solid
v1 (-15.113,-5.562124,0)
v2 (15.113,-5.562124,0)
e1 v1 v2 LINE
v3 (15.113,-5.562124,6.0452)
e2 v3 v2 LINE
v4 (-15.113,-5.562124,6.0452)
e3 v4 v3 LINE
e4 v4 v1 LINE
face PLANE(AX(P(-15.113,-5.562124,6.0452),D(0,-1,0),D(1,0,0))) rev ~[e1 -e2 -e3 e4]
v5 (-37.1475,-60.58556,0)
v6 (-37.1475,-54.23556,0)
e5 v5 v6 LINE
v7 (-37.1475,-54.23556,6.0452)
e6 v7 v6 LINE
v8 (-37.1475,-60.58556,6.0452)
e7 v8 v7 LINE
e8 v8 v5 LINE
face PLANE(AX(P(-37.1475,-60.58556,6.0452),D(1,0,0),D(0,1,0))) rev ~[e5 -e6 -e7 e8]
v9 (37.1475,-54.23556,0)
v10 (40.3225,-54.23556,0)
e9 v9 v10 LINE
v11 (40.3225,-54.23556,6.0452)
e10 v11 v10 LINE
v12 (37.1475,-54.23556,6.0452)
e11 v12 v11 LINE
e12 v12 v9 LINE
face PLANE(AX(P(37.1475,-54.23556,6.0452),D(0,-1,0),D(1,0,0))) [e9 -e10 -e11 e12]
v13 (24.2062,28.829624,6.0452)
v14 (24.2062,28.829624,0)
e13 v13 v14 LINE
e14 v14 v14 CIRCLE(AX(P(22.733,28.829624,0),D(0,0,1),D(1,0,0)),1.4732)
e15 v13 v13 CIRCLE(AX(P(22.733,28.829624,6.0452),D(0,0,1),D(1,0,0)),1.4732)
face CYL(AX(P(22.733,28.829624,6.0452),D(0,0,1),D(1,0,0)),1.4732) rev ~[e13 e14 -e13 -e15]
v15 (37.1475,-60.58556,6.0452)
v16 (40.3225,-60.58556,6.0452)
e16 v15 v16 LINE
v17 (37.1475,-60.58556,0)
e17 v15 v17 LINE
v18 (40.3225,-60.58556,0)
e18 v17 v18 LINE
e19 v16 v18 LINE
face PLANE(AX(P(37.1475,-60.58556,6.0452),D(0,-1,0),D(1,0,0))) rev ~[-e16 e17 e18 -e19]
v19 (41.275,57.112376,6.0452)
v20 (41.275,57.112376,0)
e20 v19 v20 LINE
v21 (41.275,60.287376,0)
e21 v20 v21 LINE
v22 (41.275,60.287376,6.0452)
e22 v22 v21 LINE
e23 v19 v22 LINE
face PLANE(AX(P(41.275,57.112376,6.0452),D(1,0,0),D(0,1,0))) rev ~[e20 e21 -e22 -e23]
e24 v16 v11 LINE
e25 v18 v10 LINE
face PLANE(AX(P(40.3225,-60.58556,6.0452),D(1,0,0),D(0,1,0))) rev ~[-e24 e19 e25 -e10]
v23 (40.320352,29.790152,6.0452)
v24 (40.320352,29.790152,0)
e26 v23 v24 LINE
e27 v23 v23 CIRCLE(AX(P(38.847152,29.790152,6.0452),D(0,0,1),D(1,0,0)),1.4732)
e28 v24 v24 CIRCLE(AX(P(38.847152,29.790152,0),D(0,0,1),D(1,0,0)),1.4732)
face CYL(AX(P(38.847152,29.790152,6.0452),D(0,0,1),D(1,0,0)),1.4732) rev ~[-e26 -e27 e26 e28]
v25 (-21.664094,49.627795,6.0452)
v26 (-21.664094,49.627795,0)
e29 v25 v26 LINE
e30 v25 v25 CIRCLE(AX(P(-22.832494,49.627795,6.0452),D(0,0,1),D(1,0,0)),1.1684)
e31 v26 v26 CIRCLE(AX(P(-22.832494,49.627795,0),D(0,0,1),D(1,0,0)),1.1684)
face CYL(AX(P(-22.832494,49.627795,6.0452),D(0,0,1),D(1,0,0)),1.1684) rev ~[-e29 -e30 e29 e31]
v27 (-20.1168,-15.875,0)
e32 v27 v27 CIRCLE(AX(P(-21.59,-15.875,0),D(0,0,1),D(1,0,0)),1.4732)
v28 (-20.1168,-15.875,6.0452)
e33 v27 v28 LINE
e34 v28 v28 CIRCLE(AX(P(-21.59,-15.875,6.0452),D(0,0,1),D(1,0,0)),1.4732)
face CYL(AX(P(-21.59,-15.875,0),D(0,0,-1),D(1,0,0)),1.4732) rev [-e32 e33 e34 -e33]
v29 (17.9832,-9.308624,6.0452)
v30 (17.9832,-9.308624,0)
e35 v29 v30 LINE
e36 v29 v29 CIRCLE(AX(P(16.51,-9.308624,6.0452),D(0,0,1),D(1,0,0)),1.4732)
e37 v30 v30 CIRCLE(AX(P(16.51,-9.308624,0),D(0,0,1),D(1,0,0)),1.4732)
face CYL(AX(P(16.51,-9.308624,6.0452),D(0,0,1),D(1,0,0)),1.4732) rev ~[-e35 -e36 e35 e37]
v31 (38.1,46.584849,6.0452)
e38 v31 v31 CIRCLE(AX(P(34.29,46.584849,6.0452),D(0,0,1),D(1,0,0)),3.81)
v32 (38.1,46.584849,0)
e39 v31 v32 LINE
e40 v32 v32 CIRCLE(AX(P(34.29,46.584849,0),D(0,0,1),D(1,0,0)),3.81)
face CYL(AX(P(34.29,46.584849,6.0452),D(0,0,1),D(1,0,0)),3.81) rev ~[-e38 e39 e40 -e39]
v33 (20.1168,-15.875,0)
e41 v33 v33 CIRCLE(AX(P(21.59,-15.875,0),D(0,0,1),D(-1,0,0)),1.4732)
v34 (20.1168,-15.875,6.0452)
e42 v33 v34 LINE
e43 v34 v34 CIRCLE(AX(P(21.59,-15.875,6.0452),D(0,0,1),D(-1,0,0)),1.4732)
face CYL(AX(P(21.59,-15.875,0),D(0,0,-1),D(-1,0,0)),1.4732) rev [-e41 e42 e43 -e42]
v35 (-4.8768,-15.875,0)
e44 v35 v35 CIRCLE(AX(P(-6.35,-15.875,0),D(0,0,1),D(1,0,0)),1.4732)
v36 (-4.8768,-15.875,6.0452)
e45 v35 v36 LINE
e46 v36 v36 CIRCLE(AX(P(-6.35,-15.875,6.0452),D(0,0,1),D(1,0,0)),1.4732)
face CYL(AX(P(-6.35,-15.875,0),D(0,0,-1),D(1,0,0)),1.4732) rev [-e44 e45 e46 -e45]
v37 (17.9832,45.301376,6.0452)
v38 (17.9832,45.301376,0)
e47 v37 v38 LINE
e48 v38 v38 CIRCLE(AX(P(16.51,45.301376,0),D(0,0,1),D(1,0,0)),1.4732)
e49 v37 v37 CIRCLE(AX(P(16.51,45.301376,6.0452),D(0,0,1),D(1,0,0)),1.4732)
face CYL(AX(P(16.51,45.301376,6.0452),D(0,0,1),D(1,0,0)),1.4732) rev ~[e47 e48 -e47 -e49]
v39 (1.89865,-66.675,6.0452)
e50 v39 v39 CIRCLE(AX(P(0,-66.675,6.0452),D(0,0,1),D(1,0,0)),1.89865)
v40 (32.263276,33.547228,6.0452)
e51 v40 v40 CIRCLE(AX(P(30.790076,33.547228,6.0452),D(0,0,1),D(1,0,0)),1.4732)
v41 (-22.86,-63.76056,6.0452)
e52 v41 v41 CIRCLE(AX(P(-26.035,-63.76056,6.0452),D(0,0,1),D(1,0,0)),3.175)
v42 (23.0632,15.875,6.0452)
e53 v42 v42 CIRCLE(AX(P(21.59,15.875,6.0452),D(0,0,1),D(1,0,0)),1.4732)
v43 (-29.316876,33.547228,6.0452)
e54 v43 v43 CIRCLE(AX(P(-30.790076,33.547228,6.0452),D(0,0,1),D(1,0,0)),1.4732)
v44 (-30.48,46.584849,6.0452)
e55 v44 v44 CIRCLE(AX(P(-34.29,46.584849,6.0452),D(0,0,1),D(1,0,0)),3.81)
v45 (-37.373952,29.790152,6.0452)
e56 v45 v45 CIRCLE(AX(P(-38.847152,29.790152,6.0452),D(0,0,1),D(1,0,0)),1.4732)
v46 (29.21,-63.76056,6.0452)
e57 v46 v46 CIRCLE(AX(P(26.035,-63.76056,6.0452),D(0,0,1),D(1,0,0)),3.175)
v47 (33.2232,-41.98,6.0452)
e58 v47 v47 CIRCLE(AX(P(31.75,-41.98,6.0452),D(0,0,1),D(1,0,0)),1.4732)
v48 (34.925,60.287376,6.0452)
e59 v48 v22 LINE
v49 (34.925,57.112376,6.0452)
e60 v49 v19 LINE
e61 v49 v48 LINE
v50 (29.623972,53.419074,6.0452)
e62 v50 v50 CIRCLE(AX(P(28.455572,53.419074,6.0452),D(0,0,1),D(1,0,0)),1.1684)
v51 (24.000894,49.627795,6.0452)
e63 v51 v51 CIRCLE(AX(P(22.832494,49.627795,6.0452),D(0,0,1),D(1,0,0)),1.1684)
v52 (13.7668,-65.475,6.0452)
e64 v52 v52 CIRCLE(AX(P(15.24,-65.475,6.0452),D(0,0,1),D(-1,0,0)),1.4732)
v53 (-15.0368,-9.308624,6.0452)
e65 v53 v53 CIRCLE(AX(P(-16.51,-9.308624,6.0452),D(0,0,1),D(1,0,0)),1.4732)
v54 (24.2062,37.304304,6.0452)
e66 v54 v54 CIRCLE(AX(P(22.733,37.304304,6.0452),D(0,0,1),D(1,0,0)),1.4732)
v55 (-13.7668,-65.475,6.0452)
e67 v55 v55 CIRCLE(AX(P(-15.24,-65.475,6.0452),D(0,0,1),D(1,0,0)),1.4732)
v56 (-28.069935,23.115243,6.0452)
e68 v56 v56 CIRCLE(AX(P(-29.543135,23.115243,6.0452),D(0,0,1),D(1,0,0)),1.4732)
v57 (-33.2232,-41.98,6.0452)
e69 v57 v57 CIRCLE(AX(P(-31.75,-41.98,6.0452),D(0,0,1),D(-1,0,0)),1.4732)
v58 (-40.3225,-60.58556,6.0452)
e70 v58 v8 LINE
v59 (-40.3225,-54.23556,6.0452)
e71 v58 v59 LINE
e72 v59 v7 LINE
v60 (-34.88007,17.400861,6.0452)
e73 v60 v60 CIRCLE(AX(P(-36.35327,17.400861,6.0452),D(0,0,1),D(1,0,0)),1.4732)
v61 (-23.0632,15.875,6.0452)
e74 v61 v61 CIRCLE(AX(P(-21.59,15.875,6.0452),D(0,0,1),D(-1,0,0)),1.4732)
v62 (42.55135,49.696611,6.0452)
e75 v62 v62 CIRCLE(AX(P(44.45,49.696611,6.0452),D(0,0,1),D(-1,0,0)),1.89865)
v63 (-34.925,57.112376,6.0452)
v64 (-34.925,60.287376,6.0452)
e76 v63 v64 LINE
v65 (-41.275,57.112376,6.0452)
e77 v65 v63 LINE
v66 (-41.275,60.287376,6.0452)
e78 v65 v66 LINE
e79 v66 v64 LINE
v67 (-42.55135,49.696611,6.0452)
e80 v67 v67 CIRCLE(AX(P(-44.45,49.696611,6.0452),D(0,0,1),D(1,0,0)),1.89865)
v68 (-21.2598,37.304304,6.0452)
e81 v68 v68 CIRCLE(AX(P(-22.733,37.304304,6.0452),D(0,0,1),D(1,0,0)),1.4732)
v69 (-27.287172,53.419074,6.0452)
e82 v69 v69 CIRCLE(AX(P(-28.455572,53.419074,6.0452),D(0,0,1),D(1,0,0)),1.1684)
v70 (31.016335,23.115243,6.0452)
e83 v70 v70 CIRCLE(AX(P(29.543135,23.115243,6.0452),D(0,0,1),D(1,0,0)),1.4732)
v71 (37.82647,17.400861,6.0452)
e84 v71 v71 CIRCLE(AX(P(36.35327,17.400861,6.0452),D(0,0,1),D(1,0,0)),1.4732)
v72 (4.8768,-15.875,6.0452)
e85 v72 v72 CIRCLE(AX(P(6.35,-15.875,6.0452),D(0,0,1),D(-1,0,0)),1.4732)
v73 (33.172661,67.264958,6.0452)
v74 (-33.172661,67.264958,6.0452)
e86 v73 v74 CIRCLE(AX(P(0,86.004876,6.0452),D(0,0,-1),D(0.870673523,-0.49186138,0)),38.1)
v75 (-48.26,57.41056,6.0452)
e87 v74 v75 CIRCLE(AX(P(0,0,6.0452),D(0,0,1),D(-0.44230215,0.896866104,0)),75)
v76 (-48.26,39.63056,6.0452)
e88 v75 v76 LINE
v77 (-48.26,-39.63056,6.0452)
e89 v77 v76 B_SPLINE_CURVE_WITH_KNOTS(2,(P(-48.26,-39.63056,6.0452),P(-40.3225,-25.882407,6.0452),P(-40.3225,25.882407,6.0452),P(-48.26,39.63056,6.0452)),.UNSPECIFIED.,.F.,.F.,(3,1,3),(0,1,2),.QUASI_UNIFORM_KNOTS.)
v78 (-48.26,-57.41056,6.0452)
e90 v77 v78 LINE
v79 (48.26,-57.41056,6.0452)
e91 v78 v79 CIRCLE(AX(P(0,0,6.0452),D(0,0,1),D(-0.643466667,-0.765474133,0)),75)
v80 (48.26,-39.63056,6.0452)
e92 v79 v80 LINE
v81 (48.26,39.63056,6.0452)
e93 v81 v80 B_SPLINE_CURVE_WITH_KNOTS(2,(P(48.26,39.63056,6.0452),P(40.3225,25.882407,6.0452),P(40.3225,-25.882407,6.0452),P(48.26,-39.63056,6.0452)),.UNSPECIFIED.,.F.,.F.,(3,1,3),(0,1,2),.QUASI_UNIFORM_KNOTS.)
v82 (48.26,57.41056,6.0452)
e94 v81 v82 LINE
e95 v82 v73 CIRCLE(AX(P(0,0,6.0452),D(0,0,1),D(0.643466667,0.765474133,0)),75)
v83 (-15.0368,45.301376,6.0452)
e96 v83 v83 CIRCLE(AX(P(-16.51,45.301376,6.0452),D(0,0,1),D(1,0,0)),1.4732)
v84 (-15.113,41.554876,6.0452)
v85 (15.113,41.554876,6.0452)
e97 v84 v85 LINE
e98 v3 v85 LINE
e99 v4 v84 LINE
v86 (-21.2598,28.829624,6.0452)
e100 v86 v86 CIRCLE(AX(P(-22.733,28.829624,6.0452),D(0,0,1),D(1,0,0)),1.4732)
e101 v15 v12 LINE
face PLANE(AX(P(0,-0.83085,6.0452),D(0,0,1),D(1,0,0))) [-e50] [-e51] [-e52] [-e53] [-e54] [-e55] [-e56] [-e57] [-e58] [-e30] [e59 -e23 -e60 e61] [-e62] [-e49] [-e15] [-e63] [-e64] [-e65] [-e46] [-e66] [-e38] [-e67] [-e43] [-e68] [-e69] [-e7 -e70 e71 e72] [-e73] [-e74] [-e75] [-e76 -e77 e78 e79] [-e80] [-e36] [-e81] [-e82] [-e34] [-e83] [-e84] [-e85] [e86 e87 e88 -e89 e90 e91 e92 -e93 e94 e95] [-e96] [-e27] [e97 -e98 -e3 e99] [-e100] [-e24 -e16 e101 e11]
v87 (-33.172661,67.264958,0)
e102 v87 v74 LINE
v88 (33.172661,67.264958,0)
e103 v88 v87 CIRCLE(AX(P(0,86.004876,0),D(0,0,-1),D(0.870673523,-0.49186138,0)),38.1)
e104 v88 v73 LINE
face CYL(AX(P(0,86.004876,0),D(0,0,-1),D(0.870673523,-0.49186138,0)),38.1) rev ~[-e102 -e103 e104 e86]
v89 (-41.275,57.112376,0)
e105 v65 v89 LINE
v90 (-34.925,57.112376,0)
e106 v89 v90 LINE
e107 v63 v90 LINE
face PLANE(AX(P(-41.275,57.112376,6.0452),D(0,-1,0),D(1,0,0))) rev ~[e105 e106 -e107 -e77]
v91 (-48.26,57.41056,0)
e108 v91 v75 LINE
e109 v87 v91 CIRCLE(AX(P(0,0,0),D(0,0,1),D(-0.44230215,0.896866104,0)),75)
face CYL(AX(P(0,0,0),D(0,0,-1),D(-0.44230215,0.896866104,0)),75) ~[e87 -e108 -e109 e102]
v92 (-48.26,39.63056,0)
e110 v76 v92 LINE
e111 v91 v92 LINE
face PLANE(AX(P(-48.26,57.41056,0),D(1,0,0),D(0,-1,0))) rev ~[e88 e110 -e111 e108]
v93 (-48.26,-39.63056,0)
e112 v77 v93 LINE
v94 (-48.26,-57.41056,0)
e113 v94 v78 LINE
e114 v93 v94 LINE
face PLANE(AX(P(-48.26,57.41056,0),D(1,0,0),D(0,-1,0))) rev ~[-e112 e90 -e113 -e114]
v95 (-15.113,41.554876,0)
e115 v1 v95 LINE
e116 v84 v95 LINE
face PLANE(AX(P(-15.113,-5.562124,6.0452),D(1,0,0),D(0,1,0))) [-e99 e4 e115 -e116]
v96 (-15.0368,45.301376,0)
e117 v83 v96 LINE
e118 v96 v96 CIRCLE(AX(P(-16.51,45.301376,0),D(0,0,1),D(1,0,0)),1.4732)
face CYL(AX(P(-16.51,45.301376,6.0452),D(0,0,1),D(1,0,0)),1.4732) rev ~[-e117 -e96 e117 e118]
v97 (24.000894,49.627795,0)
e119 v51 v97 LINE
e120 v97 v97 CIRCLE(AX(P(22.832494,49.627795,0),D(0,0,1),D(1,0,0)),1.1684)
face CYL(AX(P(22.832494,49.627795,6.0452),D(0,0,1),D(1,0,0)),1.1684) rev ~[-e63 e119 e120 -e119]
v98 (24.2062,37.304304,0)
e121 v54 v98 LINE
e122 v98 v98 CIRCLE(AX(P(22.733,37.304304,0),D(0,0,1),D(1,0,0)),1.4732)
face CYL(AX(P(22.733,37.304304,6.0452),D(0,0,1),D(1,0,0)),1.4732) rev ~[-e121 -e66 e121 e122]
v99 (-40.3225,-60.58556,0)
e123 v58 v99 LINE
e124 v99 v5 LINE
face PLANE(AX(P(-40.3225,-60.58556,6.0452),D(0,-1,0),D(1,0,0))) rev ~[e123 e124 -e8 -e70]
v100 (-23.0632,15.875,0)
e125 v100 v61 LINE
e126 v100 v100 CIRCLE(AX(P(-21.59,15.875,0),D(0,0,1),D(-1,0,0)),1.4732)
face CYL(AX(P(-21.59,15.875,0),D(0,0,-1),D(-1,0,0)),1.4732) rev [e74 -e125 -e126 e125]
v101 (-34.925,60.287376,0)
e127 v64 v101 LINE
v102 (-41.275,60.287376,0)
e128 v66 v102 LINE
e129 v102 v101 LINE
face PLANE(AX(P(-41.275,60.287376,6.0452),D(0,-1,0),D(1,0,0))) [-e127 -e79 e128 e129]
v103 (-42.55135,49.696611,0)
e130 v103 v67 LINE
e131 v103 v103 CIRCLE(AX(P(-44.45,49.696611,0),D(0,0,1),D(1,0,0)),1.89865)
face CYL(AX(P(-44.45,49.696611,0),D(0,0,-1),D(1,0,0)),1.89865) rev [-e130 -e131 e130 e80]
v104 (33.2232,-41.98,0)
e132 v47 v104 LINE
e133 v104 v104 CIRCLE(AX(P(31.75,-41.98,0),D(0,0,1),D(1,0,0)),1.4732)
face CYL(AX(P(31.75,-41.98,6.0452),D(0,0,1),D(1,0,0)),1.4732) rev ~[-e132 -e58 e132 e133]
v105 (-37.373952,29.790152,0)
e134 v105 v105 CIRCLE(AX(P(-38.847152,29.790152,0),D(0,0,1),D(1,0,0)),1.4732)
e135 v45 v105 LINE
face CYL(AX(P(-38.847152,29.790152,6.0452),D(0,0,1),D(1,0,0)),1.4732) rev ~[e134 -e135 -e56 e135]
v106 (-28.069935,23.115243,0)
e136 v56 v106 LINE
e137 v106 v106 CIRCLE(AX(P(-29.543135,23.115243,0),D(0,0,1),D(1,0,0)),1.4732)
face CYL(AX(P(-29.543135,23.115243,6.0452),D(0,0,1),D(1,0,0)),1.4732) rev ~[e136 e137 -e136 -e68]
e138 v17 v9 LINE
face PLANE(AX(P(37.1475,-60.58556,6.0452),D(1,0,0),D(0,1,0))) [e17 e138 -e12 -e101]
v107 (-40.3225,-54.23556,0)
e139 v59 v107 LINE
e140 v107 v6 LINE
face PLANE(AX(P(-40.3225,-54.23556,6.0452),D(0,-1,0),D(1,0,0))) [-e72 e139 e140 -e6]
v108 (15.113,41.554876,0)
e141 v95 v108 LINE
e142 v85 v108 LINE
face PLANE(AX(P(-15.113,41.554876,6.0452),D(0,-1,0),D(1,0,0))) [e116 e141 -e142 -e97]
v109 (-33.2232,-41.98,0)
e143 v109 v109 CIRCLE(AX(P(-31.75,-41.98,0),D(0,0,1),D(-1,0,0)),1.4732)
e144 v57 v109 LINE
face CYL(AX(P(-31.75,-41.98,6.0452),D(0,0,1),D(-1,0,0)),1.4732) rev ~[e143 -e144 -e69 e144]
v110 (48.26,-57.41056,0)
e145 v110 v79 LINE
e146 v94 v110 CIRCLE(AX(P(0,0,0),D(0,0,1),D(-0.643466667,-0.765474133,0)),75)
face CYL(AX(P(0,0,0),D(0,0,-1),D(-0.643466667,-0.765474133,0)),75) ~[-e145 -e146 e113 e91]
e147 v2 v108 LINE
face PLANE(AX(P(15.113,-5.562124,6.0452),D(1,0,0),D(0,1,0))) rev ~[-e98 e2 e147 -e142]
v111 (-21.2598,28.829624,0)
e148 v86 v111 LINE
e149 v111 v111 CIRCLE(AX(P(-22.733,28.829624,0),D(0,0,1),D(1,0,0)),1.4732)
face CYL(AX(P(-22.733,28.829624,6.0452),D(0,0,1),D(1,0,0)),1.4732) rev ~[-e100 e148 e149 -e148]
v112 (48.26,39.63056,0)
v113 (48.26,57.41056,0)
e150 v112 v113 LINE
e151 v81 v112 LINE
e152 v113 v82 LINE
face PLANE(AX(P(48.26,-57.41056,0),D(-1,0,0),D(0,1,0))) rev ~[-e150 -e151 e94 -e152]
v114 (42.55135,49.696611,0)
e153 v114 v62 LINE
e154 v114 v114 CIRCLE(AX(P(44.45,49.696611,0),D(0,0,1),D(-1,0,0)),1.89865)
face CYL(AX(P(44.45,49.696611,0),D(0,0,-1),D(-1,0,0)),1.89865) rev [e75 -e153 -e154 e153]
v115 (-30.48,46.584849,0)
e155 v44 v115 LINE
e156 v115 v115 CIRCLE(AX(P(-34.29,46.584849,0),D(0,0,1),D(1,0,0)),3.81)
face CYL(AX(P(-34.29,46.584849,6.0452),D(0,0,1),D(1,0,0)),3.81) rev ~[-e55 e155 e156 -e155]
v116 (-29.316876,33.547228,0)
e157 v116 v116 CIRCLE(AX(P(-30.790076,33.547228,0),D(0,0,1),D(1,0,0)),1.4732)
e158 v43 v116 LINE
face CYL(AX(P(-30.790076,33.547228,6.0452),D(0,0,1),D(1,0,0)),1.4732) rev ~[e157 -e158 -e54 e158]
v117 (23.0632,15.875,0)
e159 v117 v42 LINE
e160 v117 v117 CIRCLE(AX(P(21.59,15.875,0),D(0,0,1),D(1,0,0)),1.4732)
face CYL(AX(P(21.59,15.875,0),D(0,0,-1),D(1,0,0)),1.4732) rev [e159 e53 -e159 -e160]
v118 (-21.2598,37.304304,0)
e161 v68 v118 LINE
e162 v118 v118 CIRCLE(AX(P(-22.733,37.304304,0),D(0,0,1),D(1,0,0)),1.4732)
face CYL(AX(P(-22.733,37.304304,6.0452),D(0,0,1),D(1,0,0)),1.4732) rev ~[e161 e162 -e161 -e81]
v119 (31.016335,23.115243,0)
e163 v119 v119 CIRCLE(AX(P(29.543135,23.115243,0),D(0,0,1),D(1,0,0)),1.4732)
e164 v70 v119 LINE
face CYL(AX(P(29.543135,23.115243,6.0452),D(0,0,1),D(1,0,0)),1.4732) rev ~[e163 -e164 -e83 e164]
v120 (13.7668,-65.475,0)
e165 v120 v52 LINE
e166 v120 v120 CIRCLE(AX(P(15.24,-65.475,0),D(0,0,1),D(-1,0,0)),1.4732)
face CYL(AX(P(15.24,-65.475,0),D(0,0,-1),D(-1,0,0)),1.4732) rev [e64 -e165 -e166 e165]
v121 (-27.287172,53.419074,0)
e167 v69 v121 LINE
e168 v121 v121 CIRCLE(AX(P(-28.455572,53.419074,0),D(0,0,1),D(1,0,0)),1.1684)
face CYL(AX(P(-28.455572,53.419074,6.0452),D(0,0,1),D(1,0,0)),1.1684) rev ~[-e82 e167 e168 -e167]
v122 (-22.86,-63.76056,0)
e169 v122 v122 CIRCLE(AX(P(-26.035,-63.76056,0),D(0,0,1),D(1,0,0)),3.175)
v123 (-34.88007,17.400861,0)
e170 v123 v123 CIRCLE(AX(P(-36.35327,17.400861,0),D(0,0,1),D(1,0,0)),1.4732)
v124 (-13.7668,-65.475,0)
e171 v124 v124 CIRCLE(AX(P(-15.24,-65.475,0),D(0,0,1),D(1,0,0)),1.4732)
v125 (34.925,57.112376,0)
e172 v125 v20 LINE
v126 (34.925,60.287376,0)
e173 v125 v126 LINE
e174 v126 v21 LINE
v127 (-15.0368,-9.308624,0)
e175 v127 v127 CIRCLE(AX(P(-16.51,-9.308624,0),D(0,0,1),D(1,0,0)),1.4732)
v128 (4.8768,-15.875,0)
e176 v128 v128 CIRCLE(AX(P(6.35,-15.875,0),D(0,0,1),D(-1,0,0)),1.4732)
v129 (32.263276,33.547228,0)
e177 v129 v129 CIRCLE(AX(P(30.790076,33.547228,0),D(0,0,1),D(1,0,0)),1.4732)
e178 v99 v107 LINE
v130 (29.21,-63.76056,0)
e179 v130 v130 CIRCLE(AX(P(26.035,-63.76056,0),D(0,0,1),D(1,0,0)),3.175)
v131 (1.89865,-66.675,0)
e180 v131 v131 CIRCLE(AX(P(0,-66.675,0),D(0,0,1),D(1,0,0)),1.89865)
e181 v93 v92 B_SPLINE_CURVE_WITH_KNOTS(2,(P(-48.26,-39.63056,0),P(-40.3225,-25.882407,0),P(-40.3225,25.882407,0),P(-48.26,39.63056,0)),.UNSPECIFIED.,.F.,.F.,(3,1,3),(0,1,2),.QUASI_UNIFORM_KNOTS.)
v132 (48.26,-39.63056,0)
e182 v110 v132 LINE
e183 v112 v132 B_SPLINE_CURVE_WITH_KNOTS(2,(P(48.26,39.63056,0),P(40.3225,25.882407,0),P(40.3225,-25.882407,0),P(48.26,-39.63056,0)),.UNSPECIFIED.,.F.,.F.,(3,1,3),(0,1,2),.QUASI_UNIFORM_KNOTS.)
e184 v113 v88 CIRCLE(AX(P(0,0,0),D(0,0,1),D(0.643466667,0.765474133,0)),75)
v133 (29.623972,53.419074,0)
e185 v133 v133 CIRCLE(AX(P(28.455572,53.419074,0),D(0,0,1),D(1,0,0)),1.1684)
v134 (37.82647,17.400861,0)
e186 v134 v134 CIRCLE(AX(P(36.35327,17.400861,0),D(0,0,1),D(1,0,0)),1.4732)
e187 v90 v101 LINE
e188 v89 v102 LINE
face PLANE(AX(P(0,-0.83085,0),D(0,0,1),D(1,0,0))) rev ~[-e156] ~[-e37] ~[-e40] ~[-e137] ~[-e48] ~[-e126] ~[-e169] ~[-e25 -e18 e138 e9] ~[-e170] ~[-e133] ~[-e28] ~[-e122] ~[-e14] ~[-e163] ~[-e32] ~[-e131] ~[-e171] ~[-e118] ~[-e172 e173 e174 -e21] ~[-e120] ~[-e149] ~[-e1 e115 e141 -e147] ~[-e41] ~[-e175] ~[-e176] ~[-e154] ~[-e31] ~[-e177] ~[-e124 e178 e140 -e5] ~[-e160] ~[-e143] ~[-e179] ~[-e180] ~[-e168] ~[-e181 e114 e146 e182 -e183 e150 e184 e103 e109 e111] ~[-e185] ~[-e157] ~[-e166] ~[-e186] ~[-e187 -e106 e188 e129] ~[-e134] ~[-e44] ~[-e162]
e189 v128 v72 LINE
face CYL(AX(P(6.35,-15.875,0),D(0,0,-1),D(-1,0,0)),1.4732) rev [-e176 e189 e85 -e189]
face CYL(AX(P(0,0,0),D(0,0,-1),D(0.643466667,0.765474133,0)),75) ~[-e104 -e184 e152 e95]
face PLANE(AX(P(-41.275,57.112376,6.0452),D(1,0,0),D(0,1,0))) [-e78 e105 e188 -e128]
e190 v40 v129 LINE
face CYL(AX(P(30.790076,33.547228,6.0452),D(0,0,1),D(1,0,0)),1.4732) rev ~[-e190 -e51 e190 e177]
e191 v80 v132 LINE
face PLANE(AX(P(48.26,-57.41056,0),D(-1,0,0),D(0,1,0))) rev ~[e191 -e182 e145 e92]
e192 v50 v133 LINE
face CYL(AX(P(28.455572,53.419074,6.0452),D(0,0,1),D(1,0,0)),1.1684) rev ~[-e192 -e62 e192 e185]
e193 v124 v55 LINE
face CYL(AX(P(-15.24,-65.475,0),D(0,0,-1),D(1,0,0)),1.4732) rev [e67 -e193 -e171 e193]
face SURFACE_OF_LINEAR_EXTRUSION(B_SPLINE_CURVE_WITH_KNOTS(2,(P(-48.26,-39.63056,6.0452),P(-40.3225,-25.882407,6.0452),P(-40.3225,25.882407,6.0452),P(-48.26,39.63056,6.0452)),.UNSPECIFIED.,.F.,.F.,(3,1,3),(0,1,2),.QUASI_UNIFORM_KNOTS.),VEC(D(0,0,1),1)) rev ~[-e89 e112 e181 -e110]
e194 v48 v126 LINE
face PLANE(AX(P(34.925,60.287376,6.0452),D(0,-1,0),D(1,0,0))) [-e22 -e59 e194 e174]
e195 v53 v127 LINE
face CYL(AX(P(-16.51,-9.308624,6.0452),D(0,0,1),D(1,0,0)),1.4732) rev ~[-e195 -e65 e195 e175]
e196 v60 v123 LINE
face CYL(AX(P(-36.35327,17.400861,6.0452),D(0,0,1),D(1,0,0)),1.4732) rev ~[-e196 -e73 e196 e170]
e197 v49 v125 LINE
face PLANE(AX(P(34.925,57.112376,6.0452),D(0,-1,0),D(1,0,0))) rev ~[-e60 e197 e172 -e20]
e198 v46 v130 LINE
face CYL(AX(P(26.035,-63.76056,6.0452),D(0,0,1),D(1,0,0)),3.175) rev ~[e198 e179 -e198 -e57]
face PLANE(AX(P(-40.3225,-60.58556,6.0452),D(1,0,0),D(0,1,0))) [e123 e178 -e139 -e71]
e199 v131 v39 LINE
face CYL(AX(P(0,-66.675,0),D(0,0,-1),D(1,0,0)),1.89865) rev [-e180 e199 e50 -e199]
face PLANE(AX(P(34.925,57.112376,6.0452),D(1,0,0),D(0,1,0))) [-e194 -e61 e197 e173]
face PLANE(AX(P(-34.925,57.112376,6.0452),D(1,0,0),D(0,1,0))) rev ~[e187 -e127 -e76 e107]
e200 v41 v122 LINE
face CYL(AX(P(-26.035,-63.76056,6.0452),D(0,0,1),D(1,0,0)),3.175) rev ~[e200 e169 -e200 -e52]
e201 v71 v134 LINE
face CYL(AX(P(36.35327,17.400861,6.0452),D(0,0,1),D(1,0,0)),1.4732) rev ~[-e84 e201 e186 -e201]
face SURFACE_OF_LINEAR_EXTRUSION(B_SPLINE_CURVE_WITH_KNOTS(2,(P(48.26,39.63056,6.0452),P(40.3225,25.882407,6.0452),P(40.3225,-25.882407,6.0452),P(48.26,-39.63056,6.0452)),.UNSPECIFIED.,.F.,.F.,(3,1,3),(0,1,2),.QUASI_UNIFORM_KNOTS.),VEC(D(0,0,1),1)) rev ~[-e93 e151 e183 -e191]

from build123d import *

# Parameters (mm, degrees)
SKETCH1_R           = 1.89865
SKETCH1_R_2         = 1.4732
BOSS_EXTRUDE3_DEPTH = 6.0452
SKETCH7_R           = 1.4732
CUT_EXTRUDE2_DEPTH  = 90.389999681
SKETCH9_R           = 1.4732
SKETCH9_W           = 30.226
SKETCH9_H           = 47.117
CUT_EXTRUDE3_DEPTH  = 14.732
SKETCH10_R          = 3.175
SKETCH10_R_2        = 3.81
SKETCH10_W          = 6.35
SKETCH10_H          = 3.175
SKETCH10_W_2        = 3.175
SKETCH10_H_2        = 6.35
CUT_EXTRUDE4_DEPTH  = 6.0452
SKETCH12_R          = 1.4732
CUT_EXTRUDE5_DEPTH  = 6.0452
SKETCH13_R          = 1.1684
CUT_EXTRUDE6_DEPTH  = 6.0452
CUT_EXTRUDE7_DEPTH  = 6.0452


with BuildPart() as part:
    # Sketch1 → Boss-Extrude3 (new body)
    with BuildSketch(Plane.XY):
        with BuildLine():
            Line((-48.26, 57.410560004), (-48.26, -57.410560004))
            ThreePointArc((-48.26, -57.410560004), (0, -75), (48.26, -57.410560004))
            Line((48.26, -57.410560004), (48.26, 57.410560004))
            ThreePointArc((48.26, 57.410560004), (41.013374249, 62.792540423), (33.172661219, 67.264957799))
            ThreePointArc((33.172661219, 67.264957799), (0, 47.904876359), (-33.172661219, 67.264957799))
            ThreePointArc((-33.172661219, 67.264957799), (-41.013374249, 62.792540423), (-48.26, 57.410560004))
        make_face()
        with Locations((0, -66.675)):
            Circle(SKETCH1_R, mode=Mode.SUBTRACT)
        with Locations((-44.45, 49.6966108)):
            Circle(SKETCH1_R, mode=Mode.SUBTRACT)
        with Locations(Location((44.45, 49.6966108, 0), (0, 0, 180))):
            Circle(SKETCH1_R, mode=Mode.SUBTRACT)
        with Locations((-21.59, -15.875)):
            Circle(SKETCH1_R_2, mode=Mode.SUBTRACT)
        with Locations((-6.35, -15.875)):
            Circle(SKETCH1_R_2, mode=Mode.SUBTRACT)
        with Locations(Location((6.35, -15.875, 0), (0, 0, 180))):
            Circle(SKETCH1_R_2, mode=Mode.SUBTRACT)
        with Locations((-15.24, -65.475)):
            Circle(SKETCH1_R_2, mode=Mode.SUBTRACT)
        with Locations(Location((15.24, -65.475, 0), (0, 0, 180))):
            Circle(SKETCH1_R_2, mode=Mode.SUBTRACT)
        with Locations(Location((21.59, -15.875, 0), (0, 0, 180))):
            Circle(SKETCH1_R_2, mode=Mode.SUBTRACT)
        with Locations((6.35, 15.875)):
            Circle(SKETCH1_R_2, mode=Mode.SUBTRACT)
        with Locations(Location((-6.35, 15.875, 0), (0, 0, 180))):
            Circle(SKETCH1_R_2, mode=Mode.SUBTRACT)
        with Locations((21.59, 15.875)):
            Circle(SKETCH1_R_2, mode=Mode.SUBTRACT)
        with Locations(Location((-21.59, 15.875, 0), (0, 0, 180))):
            Circle(SKETCH1_R_2, mode=Mode.SUBTRACT)
    extrude(amount=BOSS_EXTRUDE3_DEPTH)

    # Sketch7 → Cut-Extrude2 (cut, through all)
    with BuildSketch(Plane.XY.offset(6.0452)):
        with Locations(Location((-31.75, -41.98, 0), (0, 0, 180))):
            Circle(SKETCH7_R)
        with Locations((31.75, -41.98)):
            Circle(SKETCH7_R)
    extrude(amount=-CUT_EXTRUDE2_DEPTH, mode=Mode.SUBTRACT)

    # Sketch9 → Cut-Extrude3 (cut)
    with BuildSketch(Plane.XY.offset(6.0452)):
        with Locations((-16.51, 45.301376359)):
            Circle(SKETCH9_R)
        with Locations((16.51, 45.301376359)):
            Circle(SKETCH9_R)
        with Locations((-16.51, -9.308623641)):
            Circle(SKETCH9_R)
        with Locations((16.51, -9.308623641)):
            Circle(SKETCH9_R)
        with Locations((0, 17.996376359)):
            Rectangle(SKETCH9_W, SKETCH9_H)
    extrude(amount=-CUT_EXTRUDE3_DEPTH, mode=Mode.SUBTRACT)

    # Sketch10 → Cut-Extrude4 (cut)
    with BuildSketch(Plane.XY.offset(6.0452)):
        with Locations((-26.035, -63.760560004)):
            Circle(SKETCH10_R)
        with Locations((26.035, -63.760560004)):
            Circle(SKETCH10_R)
        with Locations((-34.29, 46.584848501)):
            Circle(SKETCH10_R_2)
        with Locations((34.29, 46.584848501)):
            Circle(SKETCH10_R_2)
        with Locations((-38.1, 58.699876359)):
            Rectangle(SKETCH10_W, SKETCH10_H)
        with Locations((38.1, 58.699876359)):
            Rectangle(SKETCH10_W, SKETCH10_H)
        with Locations((-38.735, -57.410560004)):
            Rectangle(SKETCH10_W_2, SKETCH10_H_2)
        with Locations((38.735, -57.410560004)):
            Rectangle(SKETCH10_W_2, SKETCH10_H_2)
    extrude(amount=-CUT_EXTRUDE4_DEPTH, mode=Mode.SUBTRACT)

    # Sketch12 → Cut-Extrude5 (cut)
    with BuildSketch(Plane.XY.offset(6.0452)):
        with Locations((22.733, 37.304304366)):
            Circle(SKETCH12_R)
        with Locations((30.790076227, 33.547228019)):
            Circle(SKETCH12_R)
        with Locations((38.847152454, 29.790151672)):
            Circle(SKETCH12_R)
        with Locations((22.733, 28.829624443)):
            Circle(SKETCH12_R)
        with Locations((29.543135099, 23.115242593)):
            Circle(SKETCH12_R)
        with Locations((36.353270199, 17.400860743)):
            Circle(SKETCH12_R)
        with Locations((43.163405298, 11.686478893)):
            Circle(SKETCH12_R)
        with Locations((-43.163405298, 11.686478893)):
            Circle(SKETCH12_R)
        with Locations((-36.353270199, 17.400860743)):
            Circle(SKETCH12_R)
        with Locations((-29.543135099, 23.115242593)):
            Circle(SKETCH12_R)
        with Locations((-22.733, 28.829624443)):
            Circle(SKETCH12_R)
        with Locations((-38.847152454, 29.790151672)):
            Circle(SKETCH12_R)
        with Locations((-30.790076227, 33.547228019)):
            Circle(SKETCH12_R)
        with Locations((-22.733, 37.304304366)):
            Circle(SKETCH12_R)
    extrude(amount=-CUT_EXTRUDE5_DEPTH, mode=Mode.SUBTRACT)

    # Sketch13 → Cut-Extrude6 (cut)
    with BuildSketch(Plane.XY.offset(6.0452)):
        with Locations((22.832493661, 49.627795037)):
            Circle(SKETCH13_R)
        with Locations((-22.832493661, 49.627795037)):
            Circle(SKETCH13_R)
        with Locations((-28.455572264, 53.419074276)):
            Circle(SKETCH13_R)
        with Locations((28.455572264, 53.419074276)):
            Circle(SKETCH13_R)
    extrude(amount=-CUT_EXTRUDE6_DEPTH, mode=Mode.SUBTRACT)

    # Sketch14 → Cut-Extrude7 (cut)
    with BuildSketch(Plane.XY.offset(6.0452)):
        with BuildLine():
            Line((-48.26, 39.630560004), (-48.26, -39.630560004))
            add(Edge.make_bspline(
                [(-48.26, -39.630560004), (-40.3225, -25.882406719), (-40.3225, 0)],
                knots=[0, 0, 0, 1, 1, 1], degree=2))
            add(Edge.make_bspline(
                [(-48.26, 39.630560004), (-40.3225, 25.882406719), (-40.3225, 0)],
                knots=[0, 0, 0, 1, 1, 1], degree=2))
        make_face()
        with BuildLine():
            Line((48.26, 39.630560004), (48.26, -39.630560004))
            add(Edge.make_bspline(
                [(48.26, -39.630560004), (40.3225, -25.882406719), (40.3225, 0)],
                knots=[0, 0, 0, 1, 1, 1], degree=2))
            add(Edge.make_bspline(
                [(48.26, 39.630560004), (40.3225, 25.882406719), (40.3225, 0)],
                knots=[0, 0, 0, 1, 1, 1], degree=2))
        make_face()
    extrude(amount=-CUT_EXTRUDE7_DEPTH, mode=Mode.SUBTRACT)


solid = part.part
